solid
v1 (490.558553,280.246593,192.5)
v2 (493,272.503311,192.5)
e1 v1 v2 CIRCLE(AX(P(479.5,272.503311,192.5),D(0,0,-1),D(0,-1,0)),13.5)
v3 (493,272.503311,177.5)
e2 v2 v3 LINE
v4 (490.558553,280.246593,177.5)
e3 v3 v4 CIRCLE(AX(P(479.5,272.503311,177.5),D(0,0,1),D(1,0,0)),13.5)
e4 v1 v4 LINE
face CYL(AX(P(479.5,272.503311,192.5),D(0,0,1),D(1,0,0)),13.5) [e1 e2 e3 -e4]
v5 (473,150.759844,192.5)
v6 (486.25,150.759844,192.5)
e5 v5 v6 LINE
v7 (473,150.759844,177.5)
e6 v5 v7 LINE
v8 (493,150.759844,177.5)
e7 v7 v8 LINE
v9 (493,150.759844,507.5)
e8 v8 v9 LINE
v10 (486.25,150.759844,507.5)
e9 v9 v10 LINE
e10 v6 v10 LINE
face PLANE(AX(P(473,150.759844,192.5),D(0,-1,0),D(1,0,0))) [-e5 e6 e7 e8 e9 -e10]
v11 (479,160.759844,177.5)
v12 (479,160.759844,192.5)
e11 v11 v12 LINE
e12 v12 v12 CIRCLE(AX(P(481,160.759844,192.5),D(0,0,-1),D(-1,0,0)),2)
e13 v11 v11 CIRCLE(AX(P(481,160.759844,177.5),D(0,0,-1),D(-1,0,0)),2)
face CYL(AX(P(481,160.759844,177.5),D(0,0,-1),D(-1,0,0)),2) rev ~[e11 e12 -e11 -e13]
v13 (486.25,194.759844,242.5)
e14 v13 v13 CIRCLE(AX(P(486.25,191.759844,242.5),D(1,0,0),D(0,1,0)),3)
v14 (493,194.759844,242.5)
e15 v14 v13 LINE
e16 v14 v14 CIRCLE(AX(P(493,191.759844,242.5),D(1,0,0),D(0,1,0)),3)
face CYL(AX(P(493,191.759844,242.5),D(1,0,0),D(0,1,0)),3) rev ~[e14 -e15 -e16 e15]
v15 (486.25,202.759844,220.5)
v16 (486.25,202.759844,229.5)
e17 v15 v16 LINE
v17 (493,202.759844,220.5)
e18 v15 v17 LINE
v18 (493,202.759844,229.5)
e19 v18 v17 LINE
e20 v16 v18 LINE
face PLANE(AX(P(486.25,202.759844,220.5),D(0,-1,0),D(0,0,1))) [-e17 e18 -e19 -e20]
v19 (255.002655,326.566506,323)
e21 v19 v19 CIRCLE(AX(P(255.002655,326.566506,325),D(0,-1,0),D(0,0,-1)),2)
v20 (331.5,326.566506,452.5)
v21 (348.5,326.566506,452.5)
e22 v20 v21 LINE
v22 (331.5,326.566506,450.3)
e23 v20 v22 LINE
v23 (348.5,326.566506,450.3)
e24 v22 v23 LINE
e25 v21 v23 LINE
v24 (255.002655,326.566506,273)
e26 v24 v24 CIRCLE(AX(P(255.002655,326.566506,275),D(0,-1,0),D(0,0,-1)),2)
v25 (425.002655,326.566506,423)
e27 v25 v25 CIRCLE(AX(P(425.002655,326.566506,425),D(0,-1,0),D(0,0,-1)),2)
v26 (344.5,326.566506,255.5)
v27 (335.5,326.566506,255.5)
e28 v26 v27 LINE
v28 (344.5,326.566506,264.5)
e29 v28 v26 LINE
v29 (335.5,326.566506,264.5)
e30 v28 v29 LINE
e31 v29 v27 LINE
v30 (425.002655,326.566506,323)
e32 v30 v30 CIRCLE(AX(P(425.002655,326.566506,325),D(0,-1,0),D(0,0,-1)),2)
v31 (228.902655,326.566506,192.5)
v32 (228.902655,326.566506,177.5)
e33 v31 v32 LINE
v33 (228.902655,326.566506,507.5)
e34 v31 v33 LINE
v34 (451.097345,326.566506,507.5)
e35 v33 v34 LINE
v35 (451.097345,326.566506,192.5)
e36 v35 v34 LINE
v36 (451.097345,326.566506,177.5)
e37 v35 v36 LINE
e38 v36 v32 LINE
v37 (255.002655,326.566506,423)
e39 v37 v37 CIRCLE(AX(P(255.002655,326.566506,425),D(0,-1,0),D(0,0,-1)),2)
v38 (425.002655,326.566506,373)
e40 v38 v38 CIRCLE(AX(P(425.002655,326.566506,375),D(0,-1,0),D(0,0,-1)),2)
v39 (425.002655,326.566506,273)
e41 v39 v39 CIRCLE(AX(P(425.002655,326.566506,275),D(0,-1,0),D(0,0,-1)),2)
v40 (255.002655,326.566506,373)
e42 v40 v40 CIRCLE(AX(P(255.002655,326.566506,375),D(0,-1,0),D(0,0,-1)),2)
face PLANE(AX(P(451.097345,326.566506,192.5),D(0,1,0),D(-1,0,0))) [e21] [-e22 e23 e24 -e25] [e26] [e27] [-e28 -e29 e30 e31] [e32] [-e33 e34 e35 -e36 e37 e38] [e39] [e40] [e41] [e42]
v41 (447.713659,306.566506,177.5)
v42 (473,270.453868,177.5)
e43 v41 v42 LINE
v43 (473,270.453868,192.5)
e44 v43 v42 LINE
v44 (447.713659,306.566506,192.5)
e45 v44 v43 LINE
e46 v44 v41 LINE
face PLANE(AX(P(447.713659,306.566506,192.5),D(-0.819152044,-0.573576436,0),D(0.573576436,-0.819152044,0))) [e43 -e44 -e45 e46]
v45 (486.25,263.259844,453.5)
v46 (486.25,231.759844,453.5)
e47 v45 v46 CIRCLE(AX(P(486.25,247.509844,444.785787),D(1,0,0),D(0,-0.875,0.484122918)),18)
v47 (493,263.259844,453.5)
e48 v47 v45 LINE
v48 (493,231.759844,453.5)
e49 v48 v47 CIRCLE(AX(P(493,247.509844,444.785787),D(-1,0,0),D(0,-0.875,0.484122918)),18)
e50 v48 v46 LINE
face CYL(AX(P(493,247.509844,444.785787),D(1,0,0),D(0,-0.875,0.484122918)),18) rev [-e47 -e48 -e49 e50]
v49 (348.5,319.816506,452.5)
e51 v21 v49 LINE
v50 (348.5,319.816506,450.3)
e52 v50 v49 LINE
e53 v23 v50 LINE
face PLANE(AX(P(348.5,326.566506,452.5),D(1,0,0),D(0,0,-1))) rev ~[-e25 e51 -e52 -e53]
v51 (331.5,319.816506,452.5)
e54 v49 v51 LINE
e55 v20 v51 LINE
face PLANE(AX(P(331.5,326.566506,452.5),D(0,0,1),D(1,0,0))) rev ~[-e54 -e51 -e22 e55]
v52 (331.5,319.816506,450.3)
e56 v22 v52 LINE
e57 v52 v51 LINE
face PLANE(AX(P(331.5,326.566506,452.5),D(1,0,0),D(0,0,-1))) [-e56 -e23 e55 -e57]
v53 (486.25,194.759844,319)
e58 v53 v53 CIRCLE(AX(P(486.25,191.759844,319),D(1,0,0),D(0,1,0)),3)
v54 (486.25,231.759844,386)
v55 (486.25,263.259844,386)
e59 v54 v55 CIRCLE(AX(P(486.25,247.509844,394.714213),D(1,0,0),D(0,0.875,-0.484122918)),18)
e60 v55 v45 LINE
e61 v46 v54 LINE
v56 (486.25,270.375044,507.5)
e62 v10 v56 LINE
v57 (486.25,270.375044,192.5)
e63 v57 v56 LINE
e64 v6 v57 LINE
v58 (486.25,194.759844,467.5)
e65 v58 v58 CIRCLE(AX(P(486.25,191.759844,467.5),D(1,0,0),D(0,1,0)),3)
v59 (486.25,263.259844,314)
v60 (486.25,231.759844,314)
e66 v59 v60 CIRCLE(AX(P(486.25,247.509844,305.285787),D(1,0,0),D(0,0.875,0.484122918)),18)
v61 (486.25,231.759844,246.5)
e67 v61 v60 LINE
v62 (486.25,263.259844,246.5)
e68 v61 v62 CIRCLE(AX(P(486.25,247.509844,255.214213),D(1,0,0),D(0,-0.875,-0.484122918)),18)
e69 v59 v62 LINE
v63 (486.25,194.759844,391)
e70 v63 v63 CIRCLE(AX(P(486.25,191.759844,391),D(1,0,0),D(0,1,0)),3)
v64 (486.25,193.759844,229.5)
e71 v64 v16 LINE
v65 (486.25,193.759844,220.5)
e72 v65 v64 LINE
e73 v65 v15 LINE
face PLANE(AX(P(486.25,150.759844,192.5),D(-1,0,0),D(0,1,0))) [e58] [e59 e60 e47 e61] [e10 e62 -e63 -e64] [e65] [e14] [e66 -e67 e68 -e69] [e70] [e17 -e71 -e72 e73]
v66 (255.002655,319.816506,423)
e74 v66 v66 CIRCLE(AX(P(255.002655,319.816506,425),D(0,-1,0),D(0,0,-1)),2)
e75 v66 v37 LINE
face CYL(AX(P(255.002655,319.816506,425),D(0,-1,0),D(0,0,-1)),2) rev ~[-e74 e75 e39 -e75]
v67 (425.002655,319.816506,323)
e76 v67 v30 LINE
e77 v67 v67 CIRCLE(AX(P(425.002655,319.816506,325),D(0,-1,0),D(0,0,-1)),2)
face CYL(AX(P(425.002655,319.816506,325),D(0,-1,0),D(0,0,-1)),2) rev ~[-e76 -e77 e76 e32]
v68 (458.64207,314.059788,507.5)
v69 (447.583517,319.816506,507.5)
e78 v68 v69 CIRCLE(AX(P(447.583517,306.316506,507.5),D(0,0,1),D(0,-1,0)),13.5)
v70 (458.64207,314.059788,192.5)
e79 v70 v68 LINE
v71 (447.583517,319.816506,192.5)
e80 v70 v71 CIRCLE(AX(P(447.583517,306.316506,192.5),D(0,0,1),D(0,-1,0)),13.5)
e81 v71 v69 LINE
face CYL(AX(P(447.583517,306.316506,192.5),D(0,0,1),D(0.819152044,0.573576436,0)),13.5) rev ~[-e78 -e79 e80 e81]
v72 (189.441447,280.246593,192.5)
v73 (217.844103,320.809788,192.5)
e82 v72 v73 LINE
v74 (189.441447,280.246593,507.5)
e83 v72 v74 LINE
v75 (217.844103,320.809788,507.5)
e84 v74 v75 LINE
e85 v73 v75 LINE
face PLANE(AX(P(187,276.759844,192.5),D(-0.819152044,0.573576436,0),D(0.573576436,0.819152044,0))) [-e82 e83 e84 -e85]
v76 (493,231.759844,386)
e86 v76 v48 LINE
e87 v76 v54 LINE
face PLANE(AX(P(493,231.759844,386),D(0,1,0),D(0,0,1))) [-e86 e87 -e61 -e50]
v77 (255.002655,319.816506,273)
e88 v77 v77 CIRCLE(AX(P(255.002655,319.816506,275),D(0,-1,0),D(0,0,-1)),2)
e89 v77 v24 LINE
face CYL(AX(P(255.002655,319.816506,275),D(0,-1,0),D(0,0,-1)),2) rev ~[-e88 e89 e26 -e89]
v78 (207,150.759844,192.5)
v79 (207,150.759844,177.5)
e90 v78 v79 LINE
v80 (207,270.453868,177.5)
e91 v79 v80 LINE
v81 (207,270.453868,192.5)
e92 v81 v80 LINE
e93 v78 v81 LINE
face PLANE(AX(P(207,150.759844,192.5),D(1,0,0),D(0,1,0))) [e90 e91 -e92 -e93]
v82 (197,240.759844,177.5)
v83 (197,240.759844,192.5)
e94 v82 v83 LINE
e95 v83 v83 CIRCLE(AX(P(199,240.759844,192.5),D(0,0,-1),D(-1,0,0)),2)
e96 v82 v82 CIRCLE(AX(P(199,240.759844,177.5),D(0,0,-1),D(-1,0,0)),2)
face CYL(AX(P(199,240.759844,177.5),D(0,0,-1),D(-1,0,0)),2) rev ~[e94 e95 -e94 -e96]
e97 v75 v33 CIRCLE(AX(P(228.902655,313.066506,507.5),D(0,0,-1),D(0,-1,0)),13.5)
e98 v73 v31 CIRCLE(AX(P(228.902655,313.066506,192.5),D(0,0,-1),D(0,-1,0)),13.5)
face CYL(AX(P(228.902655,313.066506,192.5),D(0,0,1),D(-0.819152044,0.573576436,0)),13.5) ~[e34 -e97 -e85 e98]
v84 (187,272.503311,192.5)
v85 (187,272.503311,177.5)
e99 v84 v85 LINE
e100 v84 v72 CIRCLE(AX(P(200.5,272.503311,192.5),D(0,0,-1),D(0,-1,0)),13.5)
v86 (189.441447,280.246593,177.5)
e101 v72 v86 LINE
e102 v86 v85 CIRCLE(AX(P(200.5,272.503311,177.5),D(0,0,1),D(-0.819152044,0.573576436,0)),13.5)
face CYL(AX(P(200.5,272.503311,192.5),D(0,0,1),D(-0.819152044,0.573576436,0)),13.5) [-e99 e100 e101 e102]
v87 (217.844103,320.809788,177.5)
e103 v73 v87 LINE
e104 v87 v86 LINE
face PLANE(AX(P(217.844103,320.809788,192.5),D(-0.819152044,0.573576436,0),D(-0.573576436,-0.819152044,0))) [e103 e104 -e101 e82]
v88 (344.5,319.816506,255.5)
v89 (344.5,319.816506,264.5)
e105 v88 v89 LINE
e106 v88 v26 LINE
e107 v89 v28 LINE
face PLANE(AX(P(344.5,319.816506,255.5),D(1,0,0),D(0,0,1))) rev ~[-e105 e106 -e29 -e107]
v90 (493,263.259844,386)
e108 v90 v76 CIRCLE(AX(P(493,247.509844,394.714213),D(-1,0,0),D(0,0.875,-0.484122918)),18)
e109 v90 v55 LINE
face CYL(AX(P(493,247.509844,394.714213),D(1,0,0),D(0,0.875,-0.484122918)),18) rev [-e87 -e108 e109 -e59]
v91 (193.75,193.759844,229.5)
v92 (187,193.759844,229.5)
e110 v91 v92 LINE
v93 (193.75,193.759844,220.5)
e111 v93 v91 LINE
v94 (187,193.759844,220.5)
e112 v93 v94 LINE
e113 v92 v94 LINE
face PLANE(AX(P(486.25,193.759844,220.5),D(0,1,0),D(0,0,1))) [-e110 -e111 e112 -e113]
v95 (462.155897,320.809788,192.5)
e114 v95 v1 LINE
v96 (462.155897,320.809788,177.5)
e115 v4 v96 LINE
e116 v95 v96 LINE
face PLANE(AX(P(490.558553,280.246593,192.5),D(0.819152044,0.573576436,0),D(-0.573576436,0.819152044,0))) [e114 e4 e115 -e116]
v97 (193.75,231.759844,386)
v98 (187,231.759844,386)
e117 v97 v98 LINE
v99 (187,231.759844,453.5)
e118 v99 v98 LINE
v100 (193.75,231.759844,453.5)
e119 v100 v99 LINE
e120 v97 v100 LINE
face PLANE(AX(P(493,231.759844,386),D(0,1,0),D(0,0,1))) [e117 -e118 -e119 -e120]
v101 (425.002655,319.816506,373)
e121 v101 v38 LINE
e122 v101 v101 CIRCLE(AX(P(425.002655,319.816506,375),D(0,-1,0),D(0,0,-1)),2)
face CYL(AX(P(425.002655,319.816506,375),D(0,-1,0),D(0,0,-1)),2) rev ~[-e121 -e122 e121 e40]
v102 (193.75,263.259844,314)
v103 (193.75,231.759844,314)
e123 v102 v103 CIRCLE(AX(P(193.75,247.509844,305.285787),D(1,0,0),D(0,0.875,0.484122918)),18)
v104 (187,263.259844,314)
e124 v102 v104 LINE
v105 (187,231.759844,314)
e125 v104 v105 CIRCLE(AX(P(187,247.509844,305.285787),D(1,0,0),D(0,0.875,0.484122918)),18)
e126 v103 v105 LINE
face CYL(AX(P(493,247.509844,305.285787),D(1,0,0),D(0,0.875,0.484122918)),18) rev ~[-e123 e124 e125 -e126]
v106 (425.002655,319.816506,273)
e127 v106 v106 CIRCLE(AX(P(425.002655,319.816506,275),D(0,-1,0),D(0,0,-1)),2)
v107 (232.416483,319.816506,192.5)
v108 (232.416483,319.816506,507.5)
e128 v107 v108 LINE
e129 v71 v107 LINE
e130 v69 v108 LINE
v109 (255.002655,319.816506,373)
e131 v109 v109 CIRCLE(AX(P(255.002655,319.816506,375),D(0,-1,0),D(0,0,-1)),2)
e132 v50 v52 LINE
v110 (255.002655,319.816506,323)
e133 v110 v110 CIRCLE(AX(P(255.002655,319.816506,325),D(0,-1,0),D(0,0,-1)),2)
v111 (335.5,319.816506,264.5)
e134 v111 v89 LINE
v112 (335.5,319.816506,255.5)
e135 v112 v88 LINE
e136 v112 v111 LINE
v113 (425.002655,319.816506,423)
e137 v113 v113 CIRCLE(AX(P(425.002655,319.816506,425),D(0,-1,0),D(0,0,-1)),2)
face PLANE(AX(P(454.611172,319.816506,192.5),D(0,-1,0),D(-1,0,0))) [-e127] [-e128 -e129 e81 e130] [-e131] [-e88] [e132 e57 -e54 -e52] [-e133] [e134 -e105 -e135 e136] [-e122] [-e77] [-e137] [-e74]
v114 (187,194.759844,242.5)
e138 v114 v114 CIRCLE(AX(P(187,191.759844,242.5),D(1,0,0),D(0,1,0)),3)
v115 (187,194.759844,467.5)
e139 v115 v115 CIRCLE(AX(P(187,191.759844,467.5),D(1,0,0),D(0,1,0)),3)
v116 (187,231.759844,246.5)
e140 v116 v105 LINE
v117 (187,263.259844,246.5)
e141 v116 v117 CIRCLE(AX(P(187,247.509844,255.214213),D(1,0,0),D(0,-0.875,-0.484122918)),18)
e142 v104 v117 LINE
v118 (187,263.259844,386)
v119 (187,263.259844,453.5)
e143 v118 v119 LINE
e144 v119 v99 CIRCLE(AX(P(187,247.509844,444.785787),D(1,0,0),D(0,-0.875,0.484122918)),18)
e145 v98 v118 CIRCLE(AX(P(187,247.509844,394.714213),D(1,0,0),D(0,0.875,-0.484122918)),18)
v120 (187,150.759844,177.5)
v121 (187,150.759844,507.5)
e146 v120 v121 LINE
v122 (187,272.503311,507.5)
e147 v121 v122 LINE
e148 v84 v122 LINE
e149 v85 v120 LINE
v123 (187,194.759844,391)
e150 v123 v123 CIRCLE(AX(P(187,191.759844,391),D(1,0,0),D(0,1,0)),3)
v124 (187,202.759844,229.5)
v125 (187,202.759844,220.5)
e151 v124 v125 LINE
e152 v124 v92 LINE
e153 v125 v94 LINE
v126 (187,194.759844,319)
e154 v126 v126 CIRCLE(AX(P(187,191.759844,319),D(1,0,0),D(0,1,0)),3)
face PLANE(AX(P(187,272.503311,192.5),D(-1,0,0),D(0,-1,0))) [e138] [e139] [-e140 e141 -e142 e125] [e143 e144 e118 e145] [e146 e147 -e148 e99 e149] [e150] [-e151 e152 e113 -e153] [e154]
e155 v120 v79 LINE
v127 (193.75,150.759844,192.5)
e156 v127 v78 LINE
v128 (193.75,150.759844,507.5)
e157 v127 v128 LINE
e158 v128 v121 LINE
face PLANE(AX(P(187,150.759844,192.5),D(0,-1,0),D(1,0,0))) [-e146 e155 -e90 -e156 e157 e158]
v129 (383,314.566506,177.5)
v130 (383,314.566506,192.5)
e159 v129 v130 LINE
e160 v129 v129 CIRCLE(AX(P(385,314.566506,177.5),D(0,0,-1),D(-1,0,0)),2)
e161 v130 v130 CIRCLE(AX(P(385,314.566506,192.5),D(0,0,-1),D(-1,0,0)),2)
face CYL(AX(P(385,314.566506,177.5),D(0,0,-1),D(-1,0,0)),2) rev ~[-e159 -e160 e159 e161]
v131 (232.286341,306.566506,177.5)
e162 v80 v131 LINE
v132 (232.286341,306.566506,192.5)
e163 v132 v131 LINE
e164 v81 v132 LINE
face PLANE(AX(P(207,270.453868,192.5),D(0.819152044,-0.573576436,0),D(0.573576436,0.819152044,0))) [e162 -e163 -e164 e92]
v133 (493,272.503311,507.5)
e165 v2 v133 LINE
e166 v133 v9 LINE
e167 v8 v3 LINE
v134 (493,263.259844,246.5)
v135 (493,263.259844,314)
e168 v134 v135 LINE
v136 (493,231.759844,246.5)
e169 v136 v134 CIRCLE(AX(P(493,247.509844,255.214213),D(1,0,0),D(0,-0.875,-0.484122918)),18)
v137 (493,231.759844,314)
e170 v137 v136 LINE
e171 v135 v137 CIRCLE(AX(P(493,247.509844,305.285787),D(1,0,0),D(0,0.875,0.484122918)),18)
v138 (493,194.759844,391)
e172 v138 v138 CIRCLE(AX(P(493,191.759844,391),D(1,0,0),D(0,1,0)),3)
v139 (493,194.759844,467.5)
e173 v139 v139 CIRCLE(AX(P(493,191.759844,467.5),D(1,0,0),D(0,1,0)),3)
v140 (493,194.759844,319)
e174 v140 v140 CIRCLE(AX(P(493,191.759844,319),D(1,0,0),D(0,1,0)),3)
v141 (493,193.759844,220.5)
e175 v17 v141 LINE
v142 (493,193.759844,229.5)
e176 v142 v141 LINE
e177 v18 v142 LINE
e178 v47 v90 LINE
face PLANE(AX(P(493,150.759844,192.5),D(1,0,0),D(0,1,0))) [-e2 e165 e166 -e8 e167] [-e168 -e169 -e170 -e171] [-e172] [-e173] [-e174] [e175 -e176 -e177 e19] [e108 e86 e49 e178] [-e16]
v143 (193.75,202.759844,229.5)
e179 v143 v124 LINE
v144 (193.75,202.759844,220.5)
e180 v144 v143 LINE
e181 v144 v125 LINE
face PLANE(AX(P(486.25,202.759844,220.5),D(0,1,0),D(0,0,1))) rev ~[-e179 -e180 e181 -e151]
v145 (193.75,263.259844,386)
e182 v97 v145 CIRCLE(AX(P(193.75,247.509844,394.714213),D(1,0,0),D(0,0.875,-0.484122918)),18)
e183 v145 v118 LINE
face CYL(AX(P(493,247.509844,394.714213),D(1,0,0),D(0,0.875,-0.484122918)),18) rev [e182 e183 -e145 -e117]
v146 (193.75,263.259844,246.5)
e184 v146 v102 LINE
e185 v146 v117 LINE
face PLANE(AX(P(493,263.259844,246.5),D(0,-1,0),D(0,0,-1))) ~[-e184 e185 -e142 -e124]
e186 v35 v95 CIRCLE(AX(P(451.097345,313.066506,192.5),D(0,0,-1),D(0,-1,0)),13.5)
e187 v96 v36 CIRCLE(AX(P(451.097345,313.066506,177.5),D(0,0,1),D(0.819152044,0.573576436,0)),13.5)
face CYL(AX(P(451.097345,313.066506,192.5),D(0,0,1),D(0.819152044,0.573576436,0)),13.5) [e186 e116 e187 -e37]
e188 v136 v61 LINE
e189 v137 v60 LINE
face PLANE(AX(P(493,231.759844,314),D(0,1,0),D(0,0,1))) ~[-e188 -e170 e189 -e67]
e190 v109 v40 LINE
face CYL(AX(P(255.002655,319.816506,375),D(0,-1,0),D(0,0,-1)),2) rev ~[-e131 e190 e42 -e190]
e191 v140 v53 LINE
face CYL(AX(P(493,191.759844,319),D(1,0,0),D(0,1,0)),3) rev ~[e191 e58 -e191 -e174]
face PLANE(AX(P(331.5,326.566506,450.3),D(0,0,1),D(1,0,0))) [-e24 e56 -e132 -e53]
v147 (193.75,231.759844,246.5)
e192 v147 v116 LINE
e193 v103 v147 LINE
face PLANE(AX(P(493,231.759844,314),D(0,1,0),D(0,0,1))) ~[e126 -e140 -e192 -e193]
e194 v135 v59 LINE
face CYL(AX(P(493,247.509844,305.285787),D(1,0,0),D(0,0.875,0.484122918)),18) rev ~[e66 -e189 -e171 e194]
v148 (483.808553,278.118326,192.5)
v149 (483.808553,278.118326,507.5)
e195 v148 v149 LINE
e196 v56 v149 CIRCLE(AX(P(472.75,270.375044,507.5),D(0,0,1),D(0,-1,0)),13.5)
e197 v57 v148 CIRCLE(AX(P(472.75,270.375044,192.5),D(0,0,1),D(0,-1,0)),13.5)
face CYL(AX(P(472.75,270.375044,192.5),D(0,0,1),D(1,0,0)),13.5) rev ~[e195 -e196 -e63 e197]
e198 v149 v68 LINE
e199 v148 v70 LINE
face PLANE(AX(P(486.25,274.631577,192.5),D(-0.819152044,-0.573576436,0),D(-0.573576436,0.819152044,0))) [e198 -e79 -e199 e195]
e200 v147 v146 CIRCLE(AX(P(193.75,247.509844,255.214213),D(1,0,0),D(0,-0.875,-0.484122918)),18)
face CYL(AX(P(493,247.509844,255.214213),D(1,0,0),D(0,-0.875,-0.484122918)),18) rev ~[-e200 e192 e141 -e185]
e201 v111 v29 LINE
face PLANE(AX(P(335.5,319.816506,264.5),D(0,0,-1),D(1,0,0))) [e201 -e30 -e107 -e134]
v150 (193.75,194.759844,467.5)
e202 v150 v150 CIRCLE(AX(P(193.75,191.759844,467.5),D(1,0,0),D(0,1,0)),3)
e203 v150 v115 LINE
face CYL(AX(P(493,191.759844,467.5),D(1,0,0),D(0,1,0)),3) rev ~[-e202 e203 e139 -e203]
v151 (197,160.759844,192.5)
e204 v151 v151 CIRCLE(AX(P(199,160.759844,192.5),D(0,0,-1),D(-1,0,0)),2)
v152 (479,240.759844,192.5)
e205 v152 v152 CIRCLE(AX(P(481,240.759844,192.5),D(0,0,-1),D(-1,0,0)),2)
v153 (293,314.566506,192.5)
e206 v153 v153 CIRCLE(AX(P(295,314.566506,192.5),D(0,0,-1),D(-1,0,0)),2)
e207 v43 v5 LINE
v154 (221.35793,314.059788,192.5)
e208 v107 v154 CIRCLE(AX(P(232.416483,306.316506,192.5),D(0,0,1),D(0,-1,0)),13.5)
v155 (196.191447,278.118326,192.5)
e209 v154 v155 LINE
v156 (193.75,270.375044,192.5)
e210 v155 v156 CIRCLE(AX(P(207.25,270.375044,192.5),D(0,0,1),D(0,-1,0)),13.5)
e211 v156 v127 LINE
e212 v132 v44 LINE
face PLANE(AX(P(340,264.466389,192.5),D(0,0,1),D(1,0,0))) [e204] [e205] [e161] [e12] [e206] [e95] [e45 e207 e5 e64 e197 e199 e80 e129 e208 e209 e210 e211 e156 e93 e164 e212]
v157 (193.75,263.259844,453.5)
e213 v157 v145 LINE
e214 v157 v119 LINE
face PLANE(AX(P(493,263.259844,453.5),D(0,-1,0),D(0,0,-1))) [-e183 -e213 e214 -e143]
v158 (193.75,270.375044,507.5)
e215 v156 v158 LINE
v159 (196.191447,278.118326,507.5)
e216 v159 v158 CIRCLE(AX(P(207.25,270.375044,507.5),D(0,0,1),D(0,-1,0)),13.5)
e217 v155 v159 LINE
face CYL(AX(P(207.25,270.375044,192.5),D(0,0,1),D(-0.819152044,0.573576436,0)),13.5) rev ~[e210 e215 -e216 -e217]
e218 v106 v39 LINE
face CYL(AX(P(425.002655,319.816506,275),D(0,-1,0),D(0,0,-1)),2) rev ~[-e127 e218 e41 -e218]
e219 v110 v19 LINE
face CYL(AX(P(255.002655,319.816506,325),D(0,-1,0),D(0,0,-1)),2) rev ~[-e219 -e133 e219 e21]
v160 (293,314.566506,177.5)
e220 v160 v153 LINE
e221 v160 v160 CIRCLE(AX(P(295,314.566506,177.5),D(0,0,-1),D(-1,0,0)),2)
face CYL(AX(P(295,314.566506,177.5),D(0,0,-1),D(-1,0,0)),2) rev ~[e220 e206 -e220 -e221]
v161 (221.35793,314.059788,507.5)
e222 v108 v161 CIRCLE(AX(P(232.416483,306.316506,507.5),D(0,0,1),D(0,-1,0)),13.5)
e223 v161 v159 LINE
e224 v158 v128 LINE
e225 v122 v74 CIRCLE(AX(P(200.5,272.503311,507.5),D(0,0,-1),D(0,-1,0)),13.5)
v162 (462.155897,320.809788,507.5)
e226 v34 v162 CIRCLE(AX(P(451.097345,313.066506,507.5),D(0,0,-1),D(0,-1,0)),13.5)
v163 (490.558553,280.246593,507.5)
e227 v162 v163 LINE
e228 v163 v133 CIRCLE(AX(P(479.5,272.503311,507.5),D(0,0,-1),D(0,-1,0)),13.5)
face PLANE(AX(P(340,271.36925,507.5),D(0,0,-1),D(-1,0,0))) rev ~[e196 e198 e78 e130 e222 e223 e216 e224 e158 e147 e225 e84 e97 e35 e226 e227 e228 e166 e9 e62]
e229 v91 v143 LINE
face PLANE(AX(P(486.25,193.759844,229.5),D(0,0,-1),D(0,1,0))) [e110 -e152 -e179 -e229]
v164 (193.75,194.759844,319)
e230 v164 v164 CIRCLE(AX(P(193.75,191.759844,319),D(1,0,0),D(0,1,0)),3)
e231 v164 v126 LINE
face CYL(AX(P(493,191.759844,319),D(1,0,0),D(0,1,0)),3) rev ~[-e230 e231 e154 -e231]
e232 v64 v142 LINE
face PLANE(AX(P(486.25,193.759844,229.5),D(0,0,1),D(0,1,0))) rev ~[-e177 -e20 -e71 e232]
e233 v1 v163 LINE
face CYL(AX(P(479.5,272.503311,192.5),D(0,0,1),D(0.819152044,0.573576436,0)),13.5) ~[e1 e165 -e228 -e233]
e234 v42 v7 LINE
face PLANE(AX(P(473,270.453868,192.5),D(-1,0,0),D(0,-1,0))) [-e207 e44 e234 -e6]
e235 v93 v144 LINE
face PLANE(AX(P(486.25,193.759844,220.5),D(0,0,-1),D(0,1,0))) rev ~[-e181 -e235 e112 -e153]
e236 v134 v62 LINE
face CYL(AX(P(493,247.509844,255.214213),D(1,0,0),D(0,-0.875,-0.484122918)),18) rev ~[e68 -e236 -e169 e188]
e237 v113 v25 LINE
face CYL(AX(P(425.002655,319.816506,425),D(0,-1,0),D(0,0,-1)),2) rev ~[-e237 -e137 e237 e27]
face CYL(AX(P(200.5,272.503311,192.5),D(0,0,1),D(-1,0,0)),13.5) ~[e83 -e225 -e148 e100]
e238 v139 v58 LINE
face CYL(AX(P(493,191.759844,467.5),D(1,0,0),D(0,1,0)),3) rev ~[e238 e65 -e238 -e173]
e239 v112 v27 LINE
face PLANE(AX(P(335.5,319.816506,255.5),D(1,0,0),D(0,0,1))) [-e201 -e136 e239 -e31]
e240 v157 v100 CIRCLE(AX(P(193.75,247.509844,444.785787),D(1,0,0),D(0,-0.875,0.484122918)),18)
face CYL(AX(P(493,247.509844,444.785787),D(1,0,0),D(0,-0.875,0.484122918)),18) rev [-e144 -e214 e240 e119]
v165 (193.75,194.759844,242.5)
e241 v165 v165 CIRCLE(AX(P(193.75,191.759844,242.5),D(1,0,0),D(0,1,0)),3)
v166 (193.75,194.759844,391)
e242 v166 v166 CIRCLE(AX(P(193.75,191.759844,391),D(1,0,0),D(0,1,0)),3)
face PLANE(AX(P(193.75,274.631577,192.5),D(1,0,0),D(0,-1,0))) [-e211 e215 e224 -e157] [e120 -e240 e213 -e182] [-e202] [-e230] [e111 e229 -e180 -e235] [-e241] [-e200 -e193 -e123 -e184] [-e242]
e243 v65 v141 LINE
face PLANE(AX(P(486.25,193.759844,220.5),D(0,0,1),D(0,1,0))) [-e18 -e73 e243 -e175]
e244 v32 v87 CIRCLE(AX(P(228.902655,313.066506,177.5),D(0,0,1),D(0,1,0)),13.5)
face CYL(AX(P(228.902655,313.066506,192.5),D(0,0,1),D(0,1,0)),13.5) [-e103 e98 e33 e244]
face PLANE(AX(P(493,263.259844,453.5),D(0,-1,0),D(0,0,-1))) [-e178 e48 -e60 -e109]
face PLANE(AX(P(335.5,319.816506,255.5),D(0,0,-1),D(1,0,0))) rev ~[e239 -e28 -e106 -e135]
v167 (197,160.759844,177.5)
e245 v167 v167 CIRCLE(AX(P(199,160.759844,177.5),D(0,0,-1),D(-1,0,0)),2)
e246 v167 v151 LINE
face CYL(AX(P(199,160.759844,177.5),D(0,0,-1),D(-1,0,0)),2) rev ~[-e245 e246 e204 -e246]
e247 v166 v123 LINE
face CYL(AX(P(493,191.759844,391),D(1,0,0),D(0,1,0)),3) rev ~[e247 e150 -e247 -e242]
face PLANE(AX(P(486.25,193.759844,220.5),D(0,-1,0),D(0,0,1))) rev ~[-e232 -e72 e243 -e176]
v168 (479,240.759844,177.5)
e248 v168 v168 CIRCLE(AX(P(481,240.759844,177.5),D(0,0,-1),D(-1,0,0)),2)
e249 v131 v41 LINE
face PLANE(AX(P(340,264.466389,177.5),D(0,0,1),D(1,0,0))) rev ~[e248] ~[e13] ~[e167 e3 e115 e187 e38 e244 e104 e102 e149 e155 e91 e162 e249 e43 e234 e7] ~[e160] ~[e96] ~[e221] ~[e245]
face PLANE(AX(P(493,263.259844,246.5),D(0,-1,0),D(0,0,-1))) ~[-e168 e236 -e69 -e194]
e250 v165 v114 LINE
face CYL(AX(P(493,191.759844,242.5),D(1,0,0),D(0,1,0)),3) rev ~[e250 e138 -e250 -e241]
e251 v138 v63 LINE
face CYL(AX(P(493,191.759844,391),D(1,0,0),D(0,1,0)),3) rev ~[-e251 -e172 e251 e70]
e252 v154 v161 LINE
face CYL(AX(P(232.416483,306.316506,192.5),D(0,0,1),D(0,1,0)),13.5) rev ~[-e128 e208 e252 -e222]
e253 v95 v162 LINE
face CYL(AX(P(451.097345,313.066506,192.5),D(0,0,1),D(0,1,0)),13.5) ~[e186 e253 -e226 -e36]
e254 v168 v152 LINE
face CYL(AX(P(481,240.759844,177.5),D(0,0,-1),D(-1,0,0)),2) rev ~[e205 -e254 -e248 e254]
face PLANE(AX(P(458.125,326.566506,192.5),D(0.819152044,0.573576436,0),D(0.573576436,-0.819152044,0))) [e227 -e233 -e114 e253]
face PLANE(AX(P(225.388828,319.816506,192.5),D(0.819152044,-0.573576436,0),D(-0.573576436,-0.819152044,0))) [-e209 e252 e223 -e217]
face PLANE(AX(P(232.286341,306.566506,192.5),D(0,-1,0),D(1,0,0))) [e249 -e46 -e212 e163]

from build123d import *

# Parameters (mm, degrees)
SALIENTE_EXTRUIR1_DEPTH     = 700
REDONDEO1_R                 = 30
CORTAR_EXTRUIR7_DEPTH       = 1052.205028246
ESCALA1_SCALE               = 0.6
ESCALA2_SCALE               = 0.75
CROQUIS17_R                 = 2
CORTAR_EXTRUIR8_DEPTH       = 10
CROQUIS18_R                 = 3
CORTAR_EXTRUIR9_DEPTH       = 677.637223959
CROQUIS19_W                 = 17
CROQUIS19_H                 = 2.2
CORTAR_EXTRUIR10_DEPTH      = 730.049540368
CROQUIS21_W                 = 9
CROQUIS21_H                 = 9
CORTAR_EXTRUIR11_DEPTH      = 674.611531483
CORTAR_EXTRUIR11_DEPTH_BACK = 674.611531483
CROQUIS22_W                 = 9
CROQUIS22_H                 = 9
CORTAR_EXTRUIR12_DEPTH      = 728.451307564
SALIENTE_EXTRUIR3_DEPTH     = 15
CROQUIS26_R                 = 2
CORTAR_EXTRUIR13_DEPTH      = 678.196192286


with BuildPart() as part:
    # Croquis1 → Saliente-Extruir1 (new body)
    with BuildSketch(Plane.XY):
        Polygon((0, 0), (0, 280), (77.5, 390.681470523), (602.5, 390.681470523), (680, 280), (680, 0), (665, 0), (665, 275.270518167), (594.691494242, 375.681470523), (85.308505758, 375.681470523), (15, 275.270518167), (15, 0), align=None)
    extrude(amount=SALIENTE_EXTRUIR1_DEPTH)

    # Redondeo1
    redondeo1_edges = [part.edges().sort_by_distance(p)[0] for p in [
        (0, 280, 350),
        (77.5, 390.681470523, 350),
        (602.5, 390.681470523, 350),
        (680, 280, 350),
        (665, 275.270518167, 350),
        (594.691494242, 375.681470523, 350),
        (85.308505758, 375.681470523, 350),
        (15, 275.270518167, 350),
    ]]
    fillet(redondeo1_edges, radius=REDONDEO1_R)

    # Croquis16 → Cortar-Extruir7 (cut, through all)
    with BuildSketch(Plane(origin=(680, 0, 0), x_dir=(0, 0, -1), z_dir=(1, 0, 0))):
        with BuildLine():
            Line((-430, 180), (-580, 180))
            ThreePointArc((-580, 180), (-600.635083269, 215), (-580, 250))
            Line((-580, 250), (-430, 250))
            ThreePointArc((-430, 250), (-409.364916731, 215), (-430, 180))
        make_face()
    cortar_extruir7 = extrude(amount=-CORTAR_EXTRUIR7_DEPTH, mode=Mode.SUBTRACT)

    # Simetría1: Cortar-Extruir7 across plane
    add(cortar_extruir7.mirror(Plane.XY.offset(350)), mode=Mode.SUBTRACT)


with BuildPart() as part_1:
    # Escala1: scaled about (340, 274.108807771, 350)
    add(part.part.scale(ESCALA1_SCALE).moved(Location((136, 109.643523108, 140))))


with BuildPart() as part_2:
    # Escala2: scaled about (340, 274.108807771, 350)
    add(part_1.part.scale(ESCALA2_SCALE).moved(Location((85, 68.527201943, 87.5))))

    # Croquis17 → Cortar-Extruir8 (cut)
    with BuildSketch(Plane.XZ.offset(-319.816506009)):
        with Locations(Location((255.002655182, 425, 0), (0, 0, 270))):
            Circle(CROQUIS17_R)
        with Locations(Location((255.002655182, 375, 0), (0, 0, 270))):
            Circle(CROQUIS17_R)
        with Locations(Location((425.002655182, 425, 0), (0, 0, 270))):
            Circle(CROQUIS17_R)
        with Locations(Location((255.002655182, 325, 0), (0, 0, 270))):
            Circle(CROQUIS17_R)
        with Locations(Location((255.002655182, 275, 0), (0, 0, 270))):
            Circle(CROQUIS17_R)
        with Locations(Location((425.002655182, 375, 0), (0, 0, 270))):
            Circle(CROQUIS17_R)
        with Locations(Location((425.002655182, 325, 0), (0, 0, 270))):
            Circle(CROQUIS17_R)
        with Locations(Location((425.002655182, 275, 0), (0, 0, 270))):
            Circle(CROQUIS17_R)
    extrude(amount=-CORTAR_EXTRUIR8_DEPTH, mode=Mode.SUBTRACT)

    # Croquis18 → Cortar-Extruir9 (cut, through all)
    with BuildSketch(Plane(origin=(493, 0, 0), x_dir=(0, 0, -1), z_dir=(1, 0, 0))):
        with Locations(Location((-467.5, 191.759844274, 0), (0, 0, 90))):
            Circle(CROQUIS18_R)
        with Locations(Location((-391, 191.759844274, 0), (0, 0, 90))):
            Circle(CROQUIS18_R)
        with Locations(Location((-319, 191.759844274, 0), (0, 0, 90))):
            Circle(CROQUIS18_R)
        with Locations(Location((-242.5, 191.759844274, 0), (0, 0, 90))):
            Circle(CROQUIS18_R)
    extrude(amount=-CORTAR_EXTRUIR9_DEPTH, mode=Mode.SUBTRACT)

    # Croquis19 → Cortar-Extruir10 (cut, through all)
    with BuildSketch(Plane(origin=(0, 326.566506009, 0), x_dir=(1, 0, 0), z_dir=(0, 1, 0))):
        with Locations((340, -451.4)):
            Rectangle(CROQUIS19_W, CROQUIS19_H)
    extrude(amount=-CORTAR_EXTRUIR10_DEPTH, mode=Mode.SUBTRACT)

    # Croquis21 → Cortar-Extruir11 (cut, two sides)
    with BuildSketch(Plane.ZY.offset(-486.25)) as cortar_extruir11_sk:
        with Locations((225, 198.259844274)):
            Rectangle(CROQUIS21_W, CROQUIS21_H)
    extrude(amount=CORTAR_EXTRUIR11_DEPTH, mode=Mode.SUBTRACT)
    extrude(cortar_extruir11_sk.sketch, amount=-CORTAR_EXTRUIR11_DEPTH_BACK, mode=Mode.SUBTRACT)

    # Croquis22 → Cortar-Extruir12 (cut, through all)
    with BuildSketch(Plane.XZ.offset(-319.816506009)):
        with Locations((340, 260)):
            Rectangle(CROQUIS22_W, CROQUIS22_H)
    extrude(amount=-CORTAR_EXTRUIR12_DEPTH, mode=Mode.SUBTRACT)

    # Croquis24 → Saliente-Extruir3 (add)
    with BuildSketch(Plane(origin=(0, 0, 192.5), x_dir=(-1, 0, 0), z_dir=(0, 0, -1))):
        with BuildLine():
            Line((-187, 272.503310624), (-187, 150.759844274))
            Line((-187, 150.759844274), (-207, 150.759844274))
            Line((-207, 150.759844274), (-207, 270.453868496))
            Line((-207, 270.453868496), (-232.286341011, 306.566506009))
            Line((-232.286341011, 306.566506009), (-447.713658989, 306.566506009))
            Line((-447.713658989, 306.566506009), (-473, 270.453868496))
            Line((-473, 270.453868496), (-473, 150.759844274))
            Line((-473, 150.759844274), (-493, 150.759844274))
            Line((-493, 150.759844274), (-493, 272.503310624))
            ThreePointArc((-493, 272.503310624), (-492.375178835, 276.562838918), (-490.558552598, 280.246592515))
            Line((-490.558552598, 280.246592515), (-462.155897415, 320.8097879))
            ThreePointArc((-462.155897415, 320.8097879), (-457.330951096, 325.041152257), (-451.097344818, 326.566506009))
            Line((-451.097344818, 326.566506009), (-228.902655182, 326.566506009))
            ThreePointArc((-228.902655182, 326.566506009), (-222.669048904, 325.041152257), (-217.844102585, 320.8097879))
            Line((-217.844102585, 320.8097879), (-189.441447402, 280.246592515))
            ThreePointArc((-189.441447402, 280.246592515), (-187.624821165, 276.562838918), (-187, 272.503310624))
        make_face()
    extrude(amount=SALIENTE_EXTRUIR3_DEPTH)

    # Croquis26 → Cortar-Extruir13 (cut, through all)
    with BuildSketch(Plane(origin=(0, 0, 177.5), x_dir=(-1, 0, 0), z_dir=(0, 0, -1))):
        with Locations((-385, 314.566506009)):
            Circle(CROQUIS26_R)
        with Locations((-295, 314.566506009)):
            Circle(CROQUIS26_R)
        with Locations((-481, 160.759844274)):
            Circle(CROQUIS26_R)
        with Locations((-199, 160.759844274)):
            Circle(CROQUIS26_R)
        with Locations((-199, 240.759844274)):
            Circle(CROQUIS26_R)
        with Locations((-481, 240.759844274)):
            Circle(CROQUIS26_R)
    extrude(amount=-CORTAR_EXTRUIR13_DEPTH, mode=Mode.SUBTRACT)


solid = part_2.part
